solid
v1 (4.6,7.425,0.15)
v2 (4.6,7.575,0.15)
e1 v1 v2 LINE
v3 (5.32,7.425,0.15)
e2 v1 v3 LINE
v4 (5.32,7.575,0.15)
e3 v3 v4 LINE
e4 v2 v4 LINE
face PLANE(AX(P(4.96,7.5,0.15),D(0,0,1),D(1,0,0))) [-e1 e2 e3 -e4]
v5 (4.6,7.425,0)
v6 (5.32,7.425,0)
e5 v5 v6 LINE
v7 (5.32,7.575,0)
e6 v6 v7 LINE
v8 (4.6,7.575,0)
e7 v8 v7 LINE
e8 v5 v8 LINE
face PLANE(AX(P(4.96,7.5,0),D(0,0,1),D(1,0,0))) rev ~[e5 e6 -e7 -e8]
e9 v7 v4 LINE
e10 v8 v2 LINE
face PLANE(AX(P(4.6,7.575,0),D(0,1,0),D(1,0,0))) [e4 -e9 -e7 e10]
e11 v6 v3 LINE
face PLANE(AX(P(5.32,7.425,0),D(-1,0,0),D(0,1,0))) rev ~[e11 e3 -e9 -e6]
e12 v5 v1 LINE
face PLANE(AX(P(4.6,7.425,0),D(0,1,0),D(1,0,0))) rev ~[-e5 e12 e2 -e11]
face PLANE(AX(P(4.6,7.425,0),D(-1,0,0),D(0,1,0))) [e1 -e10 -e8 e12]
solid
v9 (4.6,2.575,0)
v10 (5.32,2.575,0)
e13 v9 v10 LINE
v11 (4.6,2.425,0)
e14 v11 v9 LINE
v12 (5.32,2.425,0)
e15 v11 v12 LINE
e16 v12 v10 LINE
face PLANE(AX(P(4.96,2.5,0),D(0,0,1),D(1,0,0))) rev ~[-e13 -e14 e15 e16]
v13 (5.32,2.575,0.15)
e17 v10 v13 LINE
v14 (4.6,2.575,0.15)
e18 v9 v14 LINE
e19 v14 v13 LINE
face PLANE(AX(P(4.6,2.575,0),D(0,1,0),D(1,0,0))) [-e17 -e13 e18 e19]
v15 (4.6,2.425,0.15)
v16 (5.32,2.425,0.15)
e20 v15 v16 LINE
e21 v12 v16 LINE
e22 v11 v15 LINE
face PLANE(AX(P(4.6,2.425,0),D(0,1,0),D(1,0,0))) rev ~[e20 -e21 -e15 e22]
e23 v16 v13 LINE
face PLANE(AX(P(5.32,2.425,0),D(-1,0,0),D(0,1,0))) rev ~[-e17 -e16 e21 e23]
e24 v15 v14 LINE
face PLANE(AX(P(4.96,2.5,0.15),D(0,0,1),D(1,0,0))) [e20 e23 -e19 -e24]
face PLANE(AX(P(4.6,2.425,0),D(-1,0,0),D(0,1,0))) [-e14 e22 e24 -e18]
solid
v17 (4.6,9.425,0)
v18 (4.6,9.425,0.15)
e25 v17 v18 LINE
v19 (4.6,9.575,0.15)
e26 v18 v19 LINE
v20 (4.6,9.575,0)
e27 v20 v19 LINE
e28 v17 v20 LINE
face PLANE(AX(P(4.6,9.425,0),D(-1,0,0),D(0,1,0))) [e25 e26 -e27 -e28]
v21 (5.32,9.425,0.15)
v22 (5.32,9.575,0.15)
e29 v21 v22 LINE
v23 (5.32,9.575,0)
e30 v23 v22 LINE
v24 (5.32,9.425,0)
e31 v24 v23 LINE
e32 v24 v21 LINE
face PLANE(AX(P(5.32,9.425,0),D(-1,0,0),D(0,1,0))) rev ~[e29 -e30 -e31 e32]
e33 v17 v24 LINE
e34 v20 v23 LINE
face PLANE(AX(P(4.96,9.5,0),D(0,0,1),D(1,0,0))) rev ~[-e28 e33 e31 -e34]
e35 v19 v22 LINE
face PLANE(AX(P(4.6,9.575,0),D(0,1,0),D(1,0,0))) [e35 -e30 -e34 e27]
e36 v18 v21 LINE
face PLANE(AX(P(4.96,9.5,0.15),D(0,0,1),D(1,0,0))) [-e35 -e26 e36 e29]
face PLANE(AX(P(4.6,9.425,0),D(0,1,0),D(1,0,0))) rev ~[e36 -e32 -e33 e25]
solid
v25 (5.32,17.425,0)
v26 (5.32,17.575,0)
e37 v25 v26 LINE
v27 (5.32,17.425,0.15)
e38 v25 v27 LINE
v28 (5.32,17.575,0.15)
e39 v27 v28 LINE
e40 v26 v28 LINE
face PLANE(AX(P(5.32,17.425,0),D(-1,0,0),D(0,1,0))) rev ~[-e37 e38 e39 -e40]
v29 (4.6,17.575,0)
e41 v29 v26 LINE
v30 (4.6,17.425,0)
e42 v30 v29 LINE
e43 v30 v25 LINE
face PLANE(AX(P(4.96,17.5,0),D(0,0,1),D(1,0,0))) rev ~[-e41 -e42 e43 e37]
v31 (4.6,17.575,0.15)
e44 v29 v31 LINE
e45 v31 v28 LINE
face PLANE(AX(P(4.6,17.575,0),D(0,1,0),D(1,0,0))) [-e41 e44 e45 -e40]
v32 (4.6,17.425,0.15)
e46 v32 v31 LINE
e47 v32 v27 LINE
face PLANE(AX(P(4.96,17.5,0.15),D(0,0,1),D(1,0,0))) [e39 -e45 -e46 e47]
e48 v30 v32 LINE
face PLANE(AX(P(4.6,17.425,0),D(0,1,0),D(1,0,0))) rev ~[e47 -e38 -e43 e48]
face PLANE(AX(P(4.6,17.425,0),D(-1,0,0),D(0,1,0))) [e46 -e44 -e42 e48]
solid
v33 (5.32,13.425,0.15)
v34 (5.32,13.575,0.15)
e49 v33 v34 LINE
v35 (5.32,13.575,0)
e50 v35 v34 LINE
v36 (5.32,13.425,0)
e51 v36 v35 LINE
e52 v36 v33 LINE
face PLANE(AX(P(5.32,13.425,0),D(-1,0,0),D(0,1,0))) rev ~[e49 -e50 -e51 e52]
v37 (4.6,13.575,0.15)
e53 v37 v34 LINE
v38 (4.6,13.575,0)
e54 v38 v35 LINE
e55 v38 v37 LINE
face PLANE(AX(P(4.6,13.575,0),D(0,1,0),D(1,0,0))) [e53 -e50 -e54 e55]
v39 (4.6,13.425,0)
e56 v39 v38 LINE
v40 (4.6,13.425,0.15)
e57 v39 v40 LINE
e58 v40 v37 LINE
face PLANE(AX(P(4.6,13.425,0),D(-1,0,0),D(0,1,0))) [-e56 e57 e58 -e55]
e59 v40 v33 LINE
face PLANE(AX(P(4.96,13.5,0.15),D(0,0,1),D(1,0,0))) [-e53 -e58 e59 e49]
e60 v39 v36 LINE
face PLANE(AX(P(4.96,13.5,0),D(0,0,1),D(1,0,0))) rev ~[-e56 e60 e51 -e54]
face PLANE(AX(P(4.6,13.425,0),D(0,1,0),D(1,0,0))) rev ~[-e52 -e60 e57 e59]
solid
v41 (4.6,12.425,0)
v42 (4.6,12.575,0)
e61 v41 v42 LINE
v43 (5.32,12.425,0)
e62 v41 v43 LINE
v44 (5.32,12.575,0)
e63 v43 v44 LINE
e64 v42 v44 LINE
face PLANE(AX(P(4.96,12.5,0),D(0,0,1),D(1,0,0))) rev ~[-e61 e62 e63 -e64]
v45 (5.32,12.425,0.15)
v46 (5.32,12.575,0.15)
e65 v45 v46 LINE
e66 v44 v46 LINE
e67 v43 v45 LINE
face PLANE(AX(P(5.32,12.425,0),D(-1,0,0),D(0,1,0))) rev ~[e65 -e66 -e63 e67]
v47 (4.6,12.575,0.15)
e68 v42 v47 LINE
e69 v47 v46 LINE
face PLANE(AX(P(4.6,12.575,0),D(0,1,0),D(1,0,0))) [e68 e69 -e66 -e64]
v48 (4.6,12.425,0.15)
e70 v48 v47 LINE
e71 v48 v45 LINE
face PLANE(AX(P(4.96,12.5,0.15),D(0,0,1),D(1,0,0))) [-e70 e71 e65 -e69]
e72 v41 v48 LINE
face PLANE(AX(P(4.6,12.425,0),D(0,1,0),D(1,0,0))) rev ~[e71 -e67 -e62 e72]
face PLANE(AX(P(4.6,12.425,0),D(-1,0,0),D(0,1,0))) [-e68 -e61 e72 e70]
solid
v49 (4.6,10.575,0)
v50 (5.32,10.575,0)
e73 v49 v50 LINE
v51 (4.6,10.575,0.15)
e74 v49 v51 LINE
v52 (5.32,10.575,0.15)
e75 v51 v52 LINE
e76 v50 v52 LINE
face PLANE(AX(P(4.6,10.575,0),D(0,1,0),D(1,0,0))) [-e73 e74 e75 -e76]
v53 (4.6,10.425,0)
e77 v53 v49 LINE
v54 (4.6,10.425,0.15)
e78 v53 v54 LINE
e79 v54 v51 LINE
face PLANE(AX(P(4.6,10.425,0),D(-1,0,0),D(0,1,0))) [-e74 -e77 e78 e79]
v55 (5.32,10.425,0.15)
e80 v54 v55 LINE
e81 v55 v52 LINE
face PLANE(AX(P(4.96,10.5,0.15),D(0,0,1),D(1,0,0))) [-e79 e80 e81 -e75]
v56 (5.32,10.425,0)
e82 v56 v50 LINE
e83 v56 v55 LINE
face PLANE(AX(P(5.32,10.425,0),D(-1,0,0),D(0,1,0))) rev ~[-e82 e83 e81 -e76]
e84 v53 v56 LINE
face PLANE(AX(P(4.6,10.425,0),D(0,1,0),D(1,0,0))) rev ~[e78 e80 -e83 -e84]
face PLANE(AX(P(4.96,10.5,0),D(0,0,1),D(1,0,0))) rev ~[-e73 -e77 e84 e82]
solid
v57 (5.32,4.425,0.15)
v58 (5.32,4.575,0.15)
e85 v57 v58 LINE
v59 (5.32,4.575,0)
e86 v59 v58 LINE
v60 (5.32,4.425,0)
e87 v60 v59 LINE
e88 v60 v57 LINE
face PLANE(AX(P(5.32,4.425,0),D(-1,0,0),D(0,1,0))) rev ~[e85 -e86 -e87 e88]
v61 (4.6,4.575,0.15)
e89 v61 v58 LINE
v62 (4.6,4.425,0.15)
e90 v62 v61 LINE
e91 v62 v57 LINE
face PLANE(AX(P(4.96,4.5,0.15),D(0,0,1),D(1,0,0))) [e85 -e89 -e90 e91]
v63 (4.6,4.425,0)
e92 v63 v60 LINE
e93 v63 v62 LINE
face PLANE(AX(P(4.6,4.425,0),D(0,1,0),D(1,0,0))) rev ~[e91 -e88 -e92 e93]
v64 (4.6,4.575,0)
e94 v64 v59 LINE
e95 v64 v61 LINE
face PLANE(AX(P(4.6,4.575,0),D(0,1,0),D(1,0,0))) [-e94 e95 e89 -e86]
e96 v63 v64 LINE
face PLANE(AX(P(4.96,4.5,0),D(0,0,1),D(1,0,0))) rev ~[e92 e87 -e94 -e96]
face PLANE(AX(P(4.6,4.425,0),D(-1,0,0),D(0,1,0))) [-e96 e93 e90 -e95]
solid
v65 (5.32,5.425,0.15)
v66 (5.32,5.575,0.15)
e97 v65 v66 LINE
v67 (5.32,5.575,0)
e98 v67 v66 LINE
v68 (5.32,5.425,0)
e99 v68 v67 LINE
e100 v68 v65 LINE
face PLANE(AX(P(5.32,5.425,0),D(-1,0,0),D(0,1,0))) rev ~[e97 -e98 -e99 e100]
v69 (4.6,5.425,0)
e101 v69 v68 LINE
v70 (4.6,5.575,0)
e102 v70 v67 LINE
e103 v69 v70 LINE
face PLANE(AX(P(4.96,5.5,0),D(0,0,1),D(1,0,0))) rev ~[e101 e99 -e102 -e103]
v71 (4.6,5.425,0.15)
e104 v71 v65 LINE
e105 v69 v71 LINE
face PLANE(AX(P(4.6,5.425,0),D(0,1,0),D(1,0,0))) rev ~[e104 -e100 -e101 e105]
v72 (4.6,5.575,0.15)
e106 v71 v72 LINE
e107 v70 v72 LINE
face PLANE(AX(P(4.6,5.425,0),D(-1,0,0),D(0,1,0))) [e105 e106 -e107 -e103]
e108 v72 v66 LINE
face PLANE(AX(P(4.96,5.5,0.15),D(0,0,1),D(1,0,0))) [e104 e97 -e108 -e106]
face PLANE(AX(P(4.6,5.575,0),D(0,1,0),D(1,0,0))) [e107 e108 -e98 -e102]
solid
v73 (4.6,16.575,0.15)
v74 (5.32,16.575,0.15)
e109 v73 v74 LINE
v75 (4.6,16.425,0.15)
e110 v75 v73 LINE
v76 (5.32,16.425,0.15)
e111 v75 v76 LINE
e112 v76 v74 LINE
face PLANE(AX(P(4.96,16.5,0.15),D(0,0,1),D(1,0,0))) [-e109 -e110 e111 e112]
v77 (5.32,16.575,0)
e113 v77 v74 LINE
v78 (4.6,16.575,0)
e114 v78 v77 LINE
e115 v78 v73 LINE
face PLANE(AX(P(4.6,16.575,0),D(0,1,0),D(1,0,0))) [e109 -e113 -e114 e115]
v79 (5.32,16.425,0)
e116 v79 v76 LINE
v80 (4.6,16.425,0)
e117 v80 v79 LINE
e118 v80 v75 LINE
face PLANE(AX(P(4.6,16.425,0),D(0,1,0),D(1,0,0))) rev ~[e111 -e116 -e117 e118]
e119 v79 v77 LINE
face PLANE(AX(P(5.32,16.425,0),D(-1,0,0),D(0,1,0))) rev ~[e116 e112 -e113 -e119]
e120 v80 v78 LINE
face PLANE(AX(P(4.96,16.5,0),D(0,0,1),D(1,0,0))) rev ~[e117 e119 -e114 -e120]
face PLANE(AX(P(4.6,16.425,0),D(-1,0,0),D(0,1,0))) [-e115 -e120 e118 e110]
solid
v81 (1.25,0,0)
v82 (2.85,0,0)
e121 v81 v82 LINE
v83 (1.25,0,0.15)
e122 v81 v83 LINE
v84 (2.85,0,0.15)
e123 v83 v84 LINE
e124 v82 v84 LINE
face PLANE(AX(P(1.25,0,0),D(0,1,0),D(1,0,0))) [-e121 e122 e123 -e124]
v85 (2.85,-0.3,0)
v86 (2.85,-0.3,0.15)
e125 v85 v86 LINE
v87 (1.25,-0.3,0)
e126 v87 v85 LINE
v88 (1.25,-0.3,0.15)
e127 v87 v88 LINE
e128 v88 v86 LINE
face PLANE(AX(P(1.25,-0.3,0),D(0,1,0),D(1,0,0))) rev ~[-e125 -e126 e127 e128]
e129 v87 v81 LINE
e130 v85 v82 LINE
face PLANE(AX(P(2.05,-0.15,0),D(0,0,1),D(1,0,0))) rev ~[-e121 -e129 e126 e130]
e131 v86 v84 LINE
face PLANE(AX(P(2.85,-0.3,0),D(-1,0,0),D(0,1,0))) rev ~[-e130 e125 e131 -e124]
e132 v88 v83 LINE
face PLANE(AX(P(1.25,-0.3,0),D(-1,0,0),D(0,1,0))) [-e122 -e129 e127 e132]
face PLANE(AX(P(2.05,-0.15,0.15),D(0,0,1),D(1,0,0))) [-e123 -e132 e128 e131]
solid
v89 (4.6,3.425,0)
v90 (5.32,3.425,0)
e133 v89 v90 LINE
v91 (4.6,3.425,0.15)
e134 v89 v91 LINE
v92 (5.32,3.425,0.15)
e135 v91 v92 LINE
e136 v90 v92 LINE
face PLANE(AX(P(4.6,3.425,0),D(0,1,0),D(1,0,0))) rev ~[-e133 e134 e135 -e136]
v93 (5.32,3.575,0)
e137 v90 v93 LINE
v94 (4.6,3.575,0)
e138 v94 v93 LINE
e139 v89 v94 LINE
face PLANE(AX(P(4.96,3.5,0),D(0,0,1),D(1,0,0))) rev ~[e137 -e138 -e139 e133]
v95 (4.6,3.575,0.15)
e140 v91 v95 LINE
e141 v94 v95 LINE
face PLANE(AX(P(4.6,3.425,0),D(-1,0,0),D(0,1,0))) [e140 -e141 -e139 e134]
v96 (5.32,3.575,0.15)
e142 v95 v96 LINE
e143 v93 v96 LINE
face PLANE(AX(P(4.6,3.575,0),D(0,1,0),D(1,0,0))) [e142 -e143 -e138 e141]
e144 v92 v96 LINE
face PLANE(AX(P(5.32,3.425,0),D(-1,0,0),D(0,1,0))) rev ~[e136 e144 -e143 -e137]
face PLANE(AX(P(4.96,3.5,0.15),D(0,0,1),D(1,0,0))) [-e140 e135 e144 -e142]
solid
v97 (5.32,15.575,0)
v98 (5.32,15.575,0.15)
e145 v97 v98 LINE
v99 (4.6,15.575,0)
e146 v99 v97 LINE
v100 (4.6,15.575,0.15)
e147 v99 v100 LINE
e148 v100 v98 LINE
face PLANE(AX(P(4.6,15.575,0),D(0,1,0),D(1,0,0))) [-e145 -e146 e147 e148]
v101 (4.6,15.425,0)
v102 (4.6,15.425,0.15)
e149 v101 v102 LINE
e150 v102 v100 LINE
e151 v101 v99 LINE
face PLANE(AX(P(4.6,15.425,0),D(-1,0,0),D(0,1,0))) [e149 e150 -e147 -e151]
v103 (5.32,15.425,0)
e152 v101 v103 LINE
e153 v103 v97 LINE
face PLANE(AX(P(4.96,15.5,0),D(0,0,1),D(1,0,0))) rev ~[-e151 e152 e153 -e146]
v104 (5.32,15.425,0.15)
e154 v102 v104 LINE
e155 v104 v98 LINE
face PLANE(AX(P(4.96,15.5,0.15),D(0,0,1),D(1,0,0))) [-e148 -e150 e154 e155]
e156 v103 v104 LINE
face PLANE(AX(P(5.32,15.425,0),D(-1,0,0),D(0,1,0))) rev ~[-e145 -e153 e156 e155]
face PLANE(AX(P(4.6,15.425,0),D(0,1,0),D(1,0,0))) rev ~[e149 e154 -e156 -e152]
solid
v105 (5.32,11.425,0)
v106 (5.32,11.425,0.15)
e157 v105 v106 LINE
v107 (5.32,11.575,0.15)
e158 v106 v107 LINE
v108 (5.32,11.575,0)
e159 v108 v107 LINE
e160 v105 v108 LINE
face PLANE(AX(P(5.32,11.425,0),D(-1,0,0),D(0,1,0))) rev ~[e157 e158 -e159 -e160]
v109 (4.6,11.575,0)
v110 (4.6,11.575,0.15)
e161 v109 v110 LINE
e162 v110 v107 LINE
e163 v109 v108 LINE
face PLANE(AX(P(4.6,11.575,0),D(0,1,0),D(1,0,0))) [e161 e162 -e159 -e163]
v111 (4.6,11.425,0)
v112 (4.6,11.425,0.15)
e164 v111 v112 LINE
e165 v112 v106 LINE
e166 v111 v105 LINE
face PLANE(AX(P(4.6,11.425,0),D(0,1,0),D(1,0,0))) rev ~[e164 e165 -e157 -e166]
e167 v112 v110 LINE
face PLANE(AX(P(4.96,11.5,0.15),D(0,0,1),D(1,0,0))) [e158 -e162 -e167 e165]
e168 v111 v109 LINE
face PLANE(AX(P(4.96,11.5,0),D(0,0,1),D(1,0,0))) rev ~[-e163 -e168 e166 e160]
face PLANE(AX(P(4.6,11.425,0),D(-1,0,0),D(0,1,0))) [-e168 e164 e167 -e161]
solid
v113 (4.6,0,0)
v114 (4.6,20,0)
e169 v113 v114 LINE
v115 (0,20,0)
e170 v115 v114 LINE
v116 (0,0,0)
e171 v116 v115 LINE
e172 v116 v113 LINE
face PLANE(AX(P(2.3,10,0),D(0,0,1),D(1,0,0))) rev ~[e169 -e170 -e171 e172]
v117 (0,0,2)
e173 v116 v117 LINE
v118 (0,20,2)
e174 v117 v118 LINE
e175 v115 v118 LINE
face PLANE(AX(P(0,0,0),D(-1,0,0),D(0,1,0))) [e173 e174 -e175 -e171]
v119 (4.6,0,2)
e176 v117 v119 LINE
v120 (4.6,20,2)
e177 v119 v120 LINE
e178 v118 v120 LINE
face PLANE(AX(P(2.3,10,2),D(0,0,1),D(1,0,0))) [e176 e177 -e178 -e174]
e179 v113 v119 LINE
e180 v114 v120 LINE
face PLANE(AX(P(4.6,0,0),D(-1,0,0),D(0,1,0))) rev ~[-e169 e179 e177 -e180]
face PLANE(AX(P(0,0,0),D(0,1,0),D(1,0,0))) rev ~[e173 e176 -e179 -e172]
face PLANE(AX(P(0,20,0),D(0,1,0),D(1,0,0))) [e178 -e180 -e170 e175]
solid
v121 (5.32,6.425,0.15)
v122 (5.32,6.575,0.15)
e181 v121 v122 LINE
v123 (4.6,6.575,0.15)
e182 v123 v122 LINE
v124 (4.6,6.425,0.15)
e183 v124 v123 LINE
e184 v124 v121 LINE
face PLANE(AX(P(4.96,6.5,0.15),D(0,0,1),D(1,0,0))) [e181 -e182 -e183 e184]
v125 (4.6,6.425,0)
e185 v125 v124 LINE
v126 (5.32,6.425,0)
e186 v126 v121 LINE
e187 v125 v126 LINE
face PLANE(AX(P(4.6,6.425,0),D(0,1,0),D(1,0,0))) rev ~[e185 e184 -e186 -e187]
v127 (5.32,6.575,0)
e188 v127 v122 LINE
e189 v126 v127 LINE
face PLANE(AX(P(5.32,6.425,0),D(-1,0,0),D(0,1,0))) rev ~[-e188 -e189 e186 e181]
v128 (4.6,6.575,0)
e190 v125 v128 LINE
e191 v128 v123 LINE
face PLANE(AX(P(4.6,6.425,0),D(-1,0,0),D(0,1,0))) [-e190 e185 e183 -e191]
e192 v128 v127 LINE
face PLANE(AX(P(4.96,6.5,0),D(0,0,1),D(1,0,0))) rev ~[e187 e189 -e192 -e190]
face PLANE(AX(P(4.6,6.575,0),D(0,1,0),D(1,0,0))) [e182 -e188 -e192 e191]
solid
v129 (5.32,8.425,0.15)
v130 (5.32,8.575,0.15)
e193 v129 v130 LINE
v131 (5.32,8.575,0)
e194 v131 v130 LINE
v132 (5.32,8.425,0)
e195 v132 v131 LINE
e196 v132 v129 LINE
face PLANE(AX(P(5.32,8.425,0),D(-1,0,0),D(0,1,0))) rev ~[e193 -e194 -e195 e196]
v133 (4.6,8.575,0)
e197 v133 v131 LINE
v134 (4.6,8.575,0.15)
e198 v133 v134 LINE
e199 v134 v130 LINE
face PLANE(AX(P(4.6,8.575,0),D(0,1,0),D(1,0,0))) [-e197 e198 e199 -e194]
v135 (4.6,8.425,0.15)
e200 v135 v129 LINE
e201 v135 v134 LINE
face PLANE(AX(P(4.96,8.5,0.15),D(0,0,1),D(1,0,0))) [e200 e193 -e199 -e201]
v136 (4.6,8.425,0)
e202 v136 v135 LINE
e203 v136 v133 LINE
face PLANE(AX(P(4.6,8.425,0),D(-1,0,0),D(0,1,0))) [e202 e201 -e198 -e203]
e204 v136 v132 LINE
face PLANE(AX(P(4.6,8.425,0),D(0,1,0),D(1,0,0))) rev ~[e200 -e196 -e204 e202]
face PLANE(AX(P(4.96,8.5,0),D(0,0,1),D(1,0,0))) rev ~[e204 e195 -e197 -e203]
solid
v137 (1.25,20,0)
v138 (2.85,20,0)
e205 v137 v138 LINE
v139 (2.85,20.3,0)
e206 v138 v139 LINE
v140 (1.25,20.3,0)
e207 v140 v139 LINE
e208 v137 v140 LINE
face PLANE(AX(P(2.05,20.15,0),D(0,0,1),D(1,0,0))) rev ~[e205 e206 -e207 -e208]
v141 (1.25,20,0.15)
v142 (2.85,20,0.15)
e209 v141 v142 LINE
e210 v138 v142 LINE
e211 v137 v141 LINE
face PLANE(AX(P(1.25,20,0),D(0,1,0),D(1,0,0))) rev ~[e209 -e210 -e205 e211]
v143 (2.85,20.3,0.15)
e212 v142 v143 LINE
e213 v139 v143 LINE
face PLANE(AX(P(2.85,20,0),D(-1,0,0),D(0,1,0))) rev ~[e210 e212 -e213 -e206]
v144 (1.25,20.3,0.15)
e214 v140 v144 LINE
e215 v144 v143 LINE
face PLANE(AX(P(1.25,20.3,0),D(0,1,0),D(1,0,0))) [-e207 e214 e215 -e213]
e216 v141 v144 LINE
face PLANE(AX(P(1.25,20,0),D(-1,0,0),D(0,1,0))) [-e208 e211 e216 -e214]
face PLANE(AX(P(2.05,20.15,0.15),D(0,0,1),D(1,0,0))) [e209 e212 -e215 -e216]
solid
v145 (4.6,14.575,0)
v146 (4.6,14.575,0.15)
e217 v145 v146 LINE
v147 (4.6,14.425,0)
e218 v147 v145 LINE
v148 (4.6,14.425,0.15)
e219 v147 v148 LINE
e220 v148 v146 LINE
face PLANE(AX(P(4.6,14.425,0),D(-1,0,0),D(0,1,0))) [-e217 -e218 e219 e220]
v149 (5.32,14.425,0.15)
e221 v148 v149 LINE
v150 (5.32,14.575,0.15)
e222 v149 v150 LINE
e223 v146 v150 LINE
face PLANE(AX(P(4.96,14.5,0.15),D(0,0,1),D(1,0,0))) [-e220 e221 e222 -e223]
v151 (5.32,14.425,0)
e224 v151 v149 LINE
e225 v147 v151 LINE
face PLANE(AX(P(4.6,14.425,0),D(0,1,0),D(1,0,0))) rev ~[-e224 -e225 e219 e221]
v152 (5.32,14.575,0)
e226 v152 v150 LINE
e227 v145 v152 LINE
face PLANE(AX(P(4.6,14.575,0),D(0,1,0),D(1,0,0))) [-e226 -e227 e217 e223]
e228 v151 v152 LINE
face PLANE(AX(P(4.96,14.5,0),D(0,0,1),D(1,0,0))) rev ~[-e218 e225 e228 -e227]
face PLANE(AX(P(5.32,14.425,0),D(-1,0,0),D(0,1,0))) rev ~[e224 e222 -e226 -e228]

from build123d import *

# Parameters (mm, degrees)
BOX_W        = 4.6
BOX_H        = 20
BOX_DEPTH    = 2
BOX001_W     = 0.72
BOX001_H     = 0.15
BOX001_DEPTH = 0.15
BOX002_W     = 0.72
BOX002_H     = 0.15
BOX002_DEPTH = 0.15
BOX003_W     = 0.72
BOX003_H     = 0.15
BOX003_DEPTH = 0.15
BOX004_W     = 0.72
BOX004_H     = 0.15
BOX004_DEPTH = 0.15
BOX005_W     = 0.72
BOX005_H     = 0.15
BOX005_DEPTH = 0.15
BOX006_W     = 0.72
BOX006_H     = 0.15
BOX006_DEPTH = 0.15
BOX007_W     = 0.72
BOX007_H     = 0.15
BOX007_DEPTH = 0.15
BOX008_W     = 0.72
BOX008_H     = 0.15
BOX008_DEPTH = 0.15
BOX009_W     = 0.72
BOX009_H     = 0.15
BOX009_DEPTH = 0.15
BOX010_W     = 0.72
BOX010_H     = 0.15
BOX010_DEPTH = 0.15
BOX011_W     = 0.72
BOX011_H     = 0.15
BOX011_DEPTH = 0.15
BOX012_W     = 0.72
BOX012_H     = 0.15
BOX012_DEPTH = 0.15
BOX013_W     = 0.72
BOX013_H     = 0.15
BOX013_DEPTH = 0.15
BOX014_W     = 0.72
BOX014_H     = 0.15
BOX014_DEPTH = 0.15
BOX015_W     = 0.72
BOX015_H     = 0.15
BOX015_DEPTH = 0.15
BOX016_W     = 0.72
BOX016_H     = 0.15
BOX016_DEPTH = 0.15
BOX017_W     = 1.6
BOX017_H     = 0.3
BOX017_DEPTH = 0.15
BOX018_W     = 1.6
BOX018_H     = 0.3
BOX018_DEPTH = 0.15


with BuildPart() as body:
    # Box → Box (new body)
    with BuildSketch(Plane.XY):
        with Locations((2.3, 10)):
            Rectangle(BOX_W, BOX_H)
    extrude(amount=BOX_DEPTH)


with BuildPart() as box001:
    # Box001 → Box001 (new body)
    with BuildSketch(Plane(origin=(4.6, 17.425, 0), x_dir=(1, 0, 0), z_dir=(0, 0, 1))):
        with Locations((0.36, 0.075)):
            Rectangle(BOX001_W, BOX001_H)
    extrude(amount=BOX001_DEPTH)


with BuildPart() as box002:
    # Box002 → Box002 (new body)
    with BuildSketch(Plane(origin=(4.6, 16.425, 0), x_dir=(1, 0, 0), z_dir=(0, 0, 1))):
        with Locations((0.36, 0.075)):
            Rectangle(BOX002_W, BOX002_H)
    extrude(amount=BOX002_DEPTH)


with BuildPart() as box003:
    # Box003 → Box003 (new body)
    with BuildSketch(Plane(origin=(4.6, 15.425, 0), x_dir=(1, 0, 0), z_dir=(0, 0, 1))):
        with Locations((0.36, 0.075)):
            Rectangle(BOX003_W, BOX003_H)
    extrude(amount=BOX003_DEPTH)


with BuildPart() as box004:
    # Box004 → Box004 (new body)
    with BuildSketch(Plane(origin=(4.6, 14.425, 0), x_dir=(1, 0, 0), z_dir=(0, 0, 1))):
        with Locations((0.36, 0.075)):
            Rectangle(BOX004_W, BOX004_H)
    extrude(amount=BOX004_DEPTH)


with BuildPart() as box005:
    # Box005 → Box005 (new body)
    with BuildSketch(Plane(origin=(4.6, 13.425, 0), x_dir=(1, 0, 0), z_dir=(0, 0, 1))):
        with Locations((0.36, 0.075)):
            Rectangle(BOX005_W, BOX005_H)
    extrude(amount=BOX005_DEPTH)


with BuildPart() as box006:
    # Box006 → Box006 (new body)
    with BuildSketch(Plane(origin=(4.6, 12.425, 0), x_dir=(1, 0, 0), z_dir=(0, 0, 1))):
        with Locations((0.36, 0.075)):
            Rectangle(BOX006_W, BOX006_H)
    extrude(amount=BOX006_DEPTH)


with BuildPart() as box007:
    # Box007 → Box007 (new body)
    with BuildSketch(Plane(origin=(4.6, 11.425, 0), x_dir=(1, 0, 0), z_dir=(0, 0, 1))):
        with Locations((0.36, 0.075)):
            Rectangle(BOX007_W, BOX007_H)
    extrude(amount=BOX007_DEPTH)


with BuildPart() as box008:
    # Box008 → Box008 (new body)
    with BuildSketch(Plane(origin=(4.6, 10.425, 0), x_dir=(1, 0, 0), z_dir=(0, 0, 1))):
        with Locations((0.36, 0.075)):
            Rectangle(BOX008_W, BOX008_H)
    extrude(amount=BOX008_DEPTH)


with BuildPart() as box009:
    # Box009 → Box009 (new body)
    with BuildSketch(Plane(origin=(4.6, 9.425, 0), x_dir=(1, 0, 0), z_dir=(0, 0, 1))):
        with Locations((0.36, 0.075)):
            Rectangle(BOX009_W, BOX009_H)
    extrude(amount=BOX009_DEPTH)


with BuildPart() as box010:
    # Box010 → Box010 (new body)
    with BuildSketch(Plane(origin=(4.6, 8.425, 0), x_dir=(1, 0, 0), z_dir=(0, 0, 1))):
        with Locations((0.36, 0.075)):
            Rectangle(BOX010_W, BOX010_H)
    extrude(amount=BOX010_DEPTH)


with BuildPart() as box011:
    # Box011 → Box011 (new body)
    with BuildSketch(Plane(origin=(4.6, 7.425, 0), x_dir=(1, 0, 0), z_dir=(0, 0, 1))):
        with Locations((0.36, 0.075)):
            Rectangle(BOX011_W, BOX011_H)
    extrude(amount=BOX011_DEPTH)


with BuildPart() as box012:
    # Box012 → Box012 (new body)
    with BuildSketch(Plane(origin=(4.6, 6.425, 0), x_dir=(1, 0, 0), z_dir=(0, 0, 1))):
        with Locations((0.36, 0.075)):
            Rectangle(BOX012_W, BOX012_H)
    extrude(amount=BOX012_DEPTH)


with BuildPart() as box013:
    # Box013 → Box013 (new body)
    with BuildSketch(Plane(origin=(4.6, 5.425, 0), x_dir=(1, 0, 0), z_dir=(0, 0, 1))):
        with Locations((0.36, 0.075)):
            Rectangle(BOX013_W, BOX013_H)
    extrude(amount=BOX013_DEPTH)


with BuildPart() as box014:
    # Box014 → Box014 (new body)
    with BuildSketch(Plane(origin=(4.6, 4.425, 0), x_dir=(1, 0, 0), z_dir=(0, 0, 1))):
        with Locations((0.36, 0.075)):
            Rectangle(BOX014_W, BOX014_H)
    extrude(amount=BOX014_DEPTH)


with BuildPart() as box015:
    # Box015 → Box015 (new body)
    with BuildSketch(Plane(origin=(4.6, 3.425, 0), x_dir=(1, 0, 0), z_dir=(0, 0, 1))):
        with Locations((0.36, 0.075)):
            Rectangle(BOX015_W, BOX015_H)
    extrude(amount=BOX015_DEPTH)


with BuildPart() as box016:
    # Box016 → Box016 (new body)
    with BuildSketch(Plane(origin=(4.6, 2.425, 0), x_dir=(1, 0, 0), z_dir=(0, 0, 1))):
        with Locations((0.36, 0.075)):
            Rectangle(BOX016_W, BOX016_H)
    extrude(amount=BOX016_DEPTH)


with BuildPart() as left_mounting:
    # Box017 → Box017 (new body)
    with BuildSketch(Plane(origin=(1.25, -0.3, 0), x_dir=(1, 0, 0), z_dir=(0, 0, 1))):
        with Locations((0.8, 0.15)):
            Rectangle(BOX017_W, BOX017_H)
    extrude(amount=BOX017_DEPTH)


with BuildPart() as right_mounting:
    # Box018 → Box018 (new body)
    with BuildSketch(Plane(origin=(1.25, 20, 0), x_dir=(1, 0, 0), z_dir=(0, 0, 1))):
        with Locations((0.8, 0.15)):
            Rectangle(BOX018_W, BOX018_H)
    extrude(amount=BOX018_DEPTH)


solid = Compound([body.part, box001.part, box002.part, box003.part, box004.part, box005.part, box006.part, box007.part, box008.part, box009.part, box010.part, box011.part, box012.part, box013.part, box014.part, box015.part, box016.part, left_mounting.part, right_mounting.part])
